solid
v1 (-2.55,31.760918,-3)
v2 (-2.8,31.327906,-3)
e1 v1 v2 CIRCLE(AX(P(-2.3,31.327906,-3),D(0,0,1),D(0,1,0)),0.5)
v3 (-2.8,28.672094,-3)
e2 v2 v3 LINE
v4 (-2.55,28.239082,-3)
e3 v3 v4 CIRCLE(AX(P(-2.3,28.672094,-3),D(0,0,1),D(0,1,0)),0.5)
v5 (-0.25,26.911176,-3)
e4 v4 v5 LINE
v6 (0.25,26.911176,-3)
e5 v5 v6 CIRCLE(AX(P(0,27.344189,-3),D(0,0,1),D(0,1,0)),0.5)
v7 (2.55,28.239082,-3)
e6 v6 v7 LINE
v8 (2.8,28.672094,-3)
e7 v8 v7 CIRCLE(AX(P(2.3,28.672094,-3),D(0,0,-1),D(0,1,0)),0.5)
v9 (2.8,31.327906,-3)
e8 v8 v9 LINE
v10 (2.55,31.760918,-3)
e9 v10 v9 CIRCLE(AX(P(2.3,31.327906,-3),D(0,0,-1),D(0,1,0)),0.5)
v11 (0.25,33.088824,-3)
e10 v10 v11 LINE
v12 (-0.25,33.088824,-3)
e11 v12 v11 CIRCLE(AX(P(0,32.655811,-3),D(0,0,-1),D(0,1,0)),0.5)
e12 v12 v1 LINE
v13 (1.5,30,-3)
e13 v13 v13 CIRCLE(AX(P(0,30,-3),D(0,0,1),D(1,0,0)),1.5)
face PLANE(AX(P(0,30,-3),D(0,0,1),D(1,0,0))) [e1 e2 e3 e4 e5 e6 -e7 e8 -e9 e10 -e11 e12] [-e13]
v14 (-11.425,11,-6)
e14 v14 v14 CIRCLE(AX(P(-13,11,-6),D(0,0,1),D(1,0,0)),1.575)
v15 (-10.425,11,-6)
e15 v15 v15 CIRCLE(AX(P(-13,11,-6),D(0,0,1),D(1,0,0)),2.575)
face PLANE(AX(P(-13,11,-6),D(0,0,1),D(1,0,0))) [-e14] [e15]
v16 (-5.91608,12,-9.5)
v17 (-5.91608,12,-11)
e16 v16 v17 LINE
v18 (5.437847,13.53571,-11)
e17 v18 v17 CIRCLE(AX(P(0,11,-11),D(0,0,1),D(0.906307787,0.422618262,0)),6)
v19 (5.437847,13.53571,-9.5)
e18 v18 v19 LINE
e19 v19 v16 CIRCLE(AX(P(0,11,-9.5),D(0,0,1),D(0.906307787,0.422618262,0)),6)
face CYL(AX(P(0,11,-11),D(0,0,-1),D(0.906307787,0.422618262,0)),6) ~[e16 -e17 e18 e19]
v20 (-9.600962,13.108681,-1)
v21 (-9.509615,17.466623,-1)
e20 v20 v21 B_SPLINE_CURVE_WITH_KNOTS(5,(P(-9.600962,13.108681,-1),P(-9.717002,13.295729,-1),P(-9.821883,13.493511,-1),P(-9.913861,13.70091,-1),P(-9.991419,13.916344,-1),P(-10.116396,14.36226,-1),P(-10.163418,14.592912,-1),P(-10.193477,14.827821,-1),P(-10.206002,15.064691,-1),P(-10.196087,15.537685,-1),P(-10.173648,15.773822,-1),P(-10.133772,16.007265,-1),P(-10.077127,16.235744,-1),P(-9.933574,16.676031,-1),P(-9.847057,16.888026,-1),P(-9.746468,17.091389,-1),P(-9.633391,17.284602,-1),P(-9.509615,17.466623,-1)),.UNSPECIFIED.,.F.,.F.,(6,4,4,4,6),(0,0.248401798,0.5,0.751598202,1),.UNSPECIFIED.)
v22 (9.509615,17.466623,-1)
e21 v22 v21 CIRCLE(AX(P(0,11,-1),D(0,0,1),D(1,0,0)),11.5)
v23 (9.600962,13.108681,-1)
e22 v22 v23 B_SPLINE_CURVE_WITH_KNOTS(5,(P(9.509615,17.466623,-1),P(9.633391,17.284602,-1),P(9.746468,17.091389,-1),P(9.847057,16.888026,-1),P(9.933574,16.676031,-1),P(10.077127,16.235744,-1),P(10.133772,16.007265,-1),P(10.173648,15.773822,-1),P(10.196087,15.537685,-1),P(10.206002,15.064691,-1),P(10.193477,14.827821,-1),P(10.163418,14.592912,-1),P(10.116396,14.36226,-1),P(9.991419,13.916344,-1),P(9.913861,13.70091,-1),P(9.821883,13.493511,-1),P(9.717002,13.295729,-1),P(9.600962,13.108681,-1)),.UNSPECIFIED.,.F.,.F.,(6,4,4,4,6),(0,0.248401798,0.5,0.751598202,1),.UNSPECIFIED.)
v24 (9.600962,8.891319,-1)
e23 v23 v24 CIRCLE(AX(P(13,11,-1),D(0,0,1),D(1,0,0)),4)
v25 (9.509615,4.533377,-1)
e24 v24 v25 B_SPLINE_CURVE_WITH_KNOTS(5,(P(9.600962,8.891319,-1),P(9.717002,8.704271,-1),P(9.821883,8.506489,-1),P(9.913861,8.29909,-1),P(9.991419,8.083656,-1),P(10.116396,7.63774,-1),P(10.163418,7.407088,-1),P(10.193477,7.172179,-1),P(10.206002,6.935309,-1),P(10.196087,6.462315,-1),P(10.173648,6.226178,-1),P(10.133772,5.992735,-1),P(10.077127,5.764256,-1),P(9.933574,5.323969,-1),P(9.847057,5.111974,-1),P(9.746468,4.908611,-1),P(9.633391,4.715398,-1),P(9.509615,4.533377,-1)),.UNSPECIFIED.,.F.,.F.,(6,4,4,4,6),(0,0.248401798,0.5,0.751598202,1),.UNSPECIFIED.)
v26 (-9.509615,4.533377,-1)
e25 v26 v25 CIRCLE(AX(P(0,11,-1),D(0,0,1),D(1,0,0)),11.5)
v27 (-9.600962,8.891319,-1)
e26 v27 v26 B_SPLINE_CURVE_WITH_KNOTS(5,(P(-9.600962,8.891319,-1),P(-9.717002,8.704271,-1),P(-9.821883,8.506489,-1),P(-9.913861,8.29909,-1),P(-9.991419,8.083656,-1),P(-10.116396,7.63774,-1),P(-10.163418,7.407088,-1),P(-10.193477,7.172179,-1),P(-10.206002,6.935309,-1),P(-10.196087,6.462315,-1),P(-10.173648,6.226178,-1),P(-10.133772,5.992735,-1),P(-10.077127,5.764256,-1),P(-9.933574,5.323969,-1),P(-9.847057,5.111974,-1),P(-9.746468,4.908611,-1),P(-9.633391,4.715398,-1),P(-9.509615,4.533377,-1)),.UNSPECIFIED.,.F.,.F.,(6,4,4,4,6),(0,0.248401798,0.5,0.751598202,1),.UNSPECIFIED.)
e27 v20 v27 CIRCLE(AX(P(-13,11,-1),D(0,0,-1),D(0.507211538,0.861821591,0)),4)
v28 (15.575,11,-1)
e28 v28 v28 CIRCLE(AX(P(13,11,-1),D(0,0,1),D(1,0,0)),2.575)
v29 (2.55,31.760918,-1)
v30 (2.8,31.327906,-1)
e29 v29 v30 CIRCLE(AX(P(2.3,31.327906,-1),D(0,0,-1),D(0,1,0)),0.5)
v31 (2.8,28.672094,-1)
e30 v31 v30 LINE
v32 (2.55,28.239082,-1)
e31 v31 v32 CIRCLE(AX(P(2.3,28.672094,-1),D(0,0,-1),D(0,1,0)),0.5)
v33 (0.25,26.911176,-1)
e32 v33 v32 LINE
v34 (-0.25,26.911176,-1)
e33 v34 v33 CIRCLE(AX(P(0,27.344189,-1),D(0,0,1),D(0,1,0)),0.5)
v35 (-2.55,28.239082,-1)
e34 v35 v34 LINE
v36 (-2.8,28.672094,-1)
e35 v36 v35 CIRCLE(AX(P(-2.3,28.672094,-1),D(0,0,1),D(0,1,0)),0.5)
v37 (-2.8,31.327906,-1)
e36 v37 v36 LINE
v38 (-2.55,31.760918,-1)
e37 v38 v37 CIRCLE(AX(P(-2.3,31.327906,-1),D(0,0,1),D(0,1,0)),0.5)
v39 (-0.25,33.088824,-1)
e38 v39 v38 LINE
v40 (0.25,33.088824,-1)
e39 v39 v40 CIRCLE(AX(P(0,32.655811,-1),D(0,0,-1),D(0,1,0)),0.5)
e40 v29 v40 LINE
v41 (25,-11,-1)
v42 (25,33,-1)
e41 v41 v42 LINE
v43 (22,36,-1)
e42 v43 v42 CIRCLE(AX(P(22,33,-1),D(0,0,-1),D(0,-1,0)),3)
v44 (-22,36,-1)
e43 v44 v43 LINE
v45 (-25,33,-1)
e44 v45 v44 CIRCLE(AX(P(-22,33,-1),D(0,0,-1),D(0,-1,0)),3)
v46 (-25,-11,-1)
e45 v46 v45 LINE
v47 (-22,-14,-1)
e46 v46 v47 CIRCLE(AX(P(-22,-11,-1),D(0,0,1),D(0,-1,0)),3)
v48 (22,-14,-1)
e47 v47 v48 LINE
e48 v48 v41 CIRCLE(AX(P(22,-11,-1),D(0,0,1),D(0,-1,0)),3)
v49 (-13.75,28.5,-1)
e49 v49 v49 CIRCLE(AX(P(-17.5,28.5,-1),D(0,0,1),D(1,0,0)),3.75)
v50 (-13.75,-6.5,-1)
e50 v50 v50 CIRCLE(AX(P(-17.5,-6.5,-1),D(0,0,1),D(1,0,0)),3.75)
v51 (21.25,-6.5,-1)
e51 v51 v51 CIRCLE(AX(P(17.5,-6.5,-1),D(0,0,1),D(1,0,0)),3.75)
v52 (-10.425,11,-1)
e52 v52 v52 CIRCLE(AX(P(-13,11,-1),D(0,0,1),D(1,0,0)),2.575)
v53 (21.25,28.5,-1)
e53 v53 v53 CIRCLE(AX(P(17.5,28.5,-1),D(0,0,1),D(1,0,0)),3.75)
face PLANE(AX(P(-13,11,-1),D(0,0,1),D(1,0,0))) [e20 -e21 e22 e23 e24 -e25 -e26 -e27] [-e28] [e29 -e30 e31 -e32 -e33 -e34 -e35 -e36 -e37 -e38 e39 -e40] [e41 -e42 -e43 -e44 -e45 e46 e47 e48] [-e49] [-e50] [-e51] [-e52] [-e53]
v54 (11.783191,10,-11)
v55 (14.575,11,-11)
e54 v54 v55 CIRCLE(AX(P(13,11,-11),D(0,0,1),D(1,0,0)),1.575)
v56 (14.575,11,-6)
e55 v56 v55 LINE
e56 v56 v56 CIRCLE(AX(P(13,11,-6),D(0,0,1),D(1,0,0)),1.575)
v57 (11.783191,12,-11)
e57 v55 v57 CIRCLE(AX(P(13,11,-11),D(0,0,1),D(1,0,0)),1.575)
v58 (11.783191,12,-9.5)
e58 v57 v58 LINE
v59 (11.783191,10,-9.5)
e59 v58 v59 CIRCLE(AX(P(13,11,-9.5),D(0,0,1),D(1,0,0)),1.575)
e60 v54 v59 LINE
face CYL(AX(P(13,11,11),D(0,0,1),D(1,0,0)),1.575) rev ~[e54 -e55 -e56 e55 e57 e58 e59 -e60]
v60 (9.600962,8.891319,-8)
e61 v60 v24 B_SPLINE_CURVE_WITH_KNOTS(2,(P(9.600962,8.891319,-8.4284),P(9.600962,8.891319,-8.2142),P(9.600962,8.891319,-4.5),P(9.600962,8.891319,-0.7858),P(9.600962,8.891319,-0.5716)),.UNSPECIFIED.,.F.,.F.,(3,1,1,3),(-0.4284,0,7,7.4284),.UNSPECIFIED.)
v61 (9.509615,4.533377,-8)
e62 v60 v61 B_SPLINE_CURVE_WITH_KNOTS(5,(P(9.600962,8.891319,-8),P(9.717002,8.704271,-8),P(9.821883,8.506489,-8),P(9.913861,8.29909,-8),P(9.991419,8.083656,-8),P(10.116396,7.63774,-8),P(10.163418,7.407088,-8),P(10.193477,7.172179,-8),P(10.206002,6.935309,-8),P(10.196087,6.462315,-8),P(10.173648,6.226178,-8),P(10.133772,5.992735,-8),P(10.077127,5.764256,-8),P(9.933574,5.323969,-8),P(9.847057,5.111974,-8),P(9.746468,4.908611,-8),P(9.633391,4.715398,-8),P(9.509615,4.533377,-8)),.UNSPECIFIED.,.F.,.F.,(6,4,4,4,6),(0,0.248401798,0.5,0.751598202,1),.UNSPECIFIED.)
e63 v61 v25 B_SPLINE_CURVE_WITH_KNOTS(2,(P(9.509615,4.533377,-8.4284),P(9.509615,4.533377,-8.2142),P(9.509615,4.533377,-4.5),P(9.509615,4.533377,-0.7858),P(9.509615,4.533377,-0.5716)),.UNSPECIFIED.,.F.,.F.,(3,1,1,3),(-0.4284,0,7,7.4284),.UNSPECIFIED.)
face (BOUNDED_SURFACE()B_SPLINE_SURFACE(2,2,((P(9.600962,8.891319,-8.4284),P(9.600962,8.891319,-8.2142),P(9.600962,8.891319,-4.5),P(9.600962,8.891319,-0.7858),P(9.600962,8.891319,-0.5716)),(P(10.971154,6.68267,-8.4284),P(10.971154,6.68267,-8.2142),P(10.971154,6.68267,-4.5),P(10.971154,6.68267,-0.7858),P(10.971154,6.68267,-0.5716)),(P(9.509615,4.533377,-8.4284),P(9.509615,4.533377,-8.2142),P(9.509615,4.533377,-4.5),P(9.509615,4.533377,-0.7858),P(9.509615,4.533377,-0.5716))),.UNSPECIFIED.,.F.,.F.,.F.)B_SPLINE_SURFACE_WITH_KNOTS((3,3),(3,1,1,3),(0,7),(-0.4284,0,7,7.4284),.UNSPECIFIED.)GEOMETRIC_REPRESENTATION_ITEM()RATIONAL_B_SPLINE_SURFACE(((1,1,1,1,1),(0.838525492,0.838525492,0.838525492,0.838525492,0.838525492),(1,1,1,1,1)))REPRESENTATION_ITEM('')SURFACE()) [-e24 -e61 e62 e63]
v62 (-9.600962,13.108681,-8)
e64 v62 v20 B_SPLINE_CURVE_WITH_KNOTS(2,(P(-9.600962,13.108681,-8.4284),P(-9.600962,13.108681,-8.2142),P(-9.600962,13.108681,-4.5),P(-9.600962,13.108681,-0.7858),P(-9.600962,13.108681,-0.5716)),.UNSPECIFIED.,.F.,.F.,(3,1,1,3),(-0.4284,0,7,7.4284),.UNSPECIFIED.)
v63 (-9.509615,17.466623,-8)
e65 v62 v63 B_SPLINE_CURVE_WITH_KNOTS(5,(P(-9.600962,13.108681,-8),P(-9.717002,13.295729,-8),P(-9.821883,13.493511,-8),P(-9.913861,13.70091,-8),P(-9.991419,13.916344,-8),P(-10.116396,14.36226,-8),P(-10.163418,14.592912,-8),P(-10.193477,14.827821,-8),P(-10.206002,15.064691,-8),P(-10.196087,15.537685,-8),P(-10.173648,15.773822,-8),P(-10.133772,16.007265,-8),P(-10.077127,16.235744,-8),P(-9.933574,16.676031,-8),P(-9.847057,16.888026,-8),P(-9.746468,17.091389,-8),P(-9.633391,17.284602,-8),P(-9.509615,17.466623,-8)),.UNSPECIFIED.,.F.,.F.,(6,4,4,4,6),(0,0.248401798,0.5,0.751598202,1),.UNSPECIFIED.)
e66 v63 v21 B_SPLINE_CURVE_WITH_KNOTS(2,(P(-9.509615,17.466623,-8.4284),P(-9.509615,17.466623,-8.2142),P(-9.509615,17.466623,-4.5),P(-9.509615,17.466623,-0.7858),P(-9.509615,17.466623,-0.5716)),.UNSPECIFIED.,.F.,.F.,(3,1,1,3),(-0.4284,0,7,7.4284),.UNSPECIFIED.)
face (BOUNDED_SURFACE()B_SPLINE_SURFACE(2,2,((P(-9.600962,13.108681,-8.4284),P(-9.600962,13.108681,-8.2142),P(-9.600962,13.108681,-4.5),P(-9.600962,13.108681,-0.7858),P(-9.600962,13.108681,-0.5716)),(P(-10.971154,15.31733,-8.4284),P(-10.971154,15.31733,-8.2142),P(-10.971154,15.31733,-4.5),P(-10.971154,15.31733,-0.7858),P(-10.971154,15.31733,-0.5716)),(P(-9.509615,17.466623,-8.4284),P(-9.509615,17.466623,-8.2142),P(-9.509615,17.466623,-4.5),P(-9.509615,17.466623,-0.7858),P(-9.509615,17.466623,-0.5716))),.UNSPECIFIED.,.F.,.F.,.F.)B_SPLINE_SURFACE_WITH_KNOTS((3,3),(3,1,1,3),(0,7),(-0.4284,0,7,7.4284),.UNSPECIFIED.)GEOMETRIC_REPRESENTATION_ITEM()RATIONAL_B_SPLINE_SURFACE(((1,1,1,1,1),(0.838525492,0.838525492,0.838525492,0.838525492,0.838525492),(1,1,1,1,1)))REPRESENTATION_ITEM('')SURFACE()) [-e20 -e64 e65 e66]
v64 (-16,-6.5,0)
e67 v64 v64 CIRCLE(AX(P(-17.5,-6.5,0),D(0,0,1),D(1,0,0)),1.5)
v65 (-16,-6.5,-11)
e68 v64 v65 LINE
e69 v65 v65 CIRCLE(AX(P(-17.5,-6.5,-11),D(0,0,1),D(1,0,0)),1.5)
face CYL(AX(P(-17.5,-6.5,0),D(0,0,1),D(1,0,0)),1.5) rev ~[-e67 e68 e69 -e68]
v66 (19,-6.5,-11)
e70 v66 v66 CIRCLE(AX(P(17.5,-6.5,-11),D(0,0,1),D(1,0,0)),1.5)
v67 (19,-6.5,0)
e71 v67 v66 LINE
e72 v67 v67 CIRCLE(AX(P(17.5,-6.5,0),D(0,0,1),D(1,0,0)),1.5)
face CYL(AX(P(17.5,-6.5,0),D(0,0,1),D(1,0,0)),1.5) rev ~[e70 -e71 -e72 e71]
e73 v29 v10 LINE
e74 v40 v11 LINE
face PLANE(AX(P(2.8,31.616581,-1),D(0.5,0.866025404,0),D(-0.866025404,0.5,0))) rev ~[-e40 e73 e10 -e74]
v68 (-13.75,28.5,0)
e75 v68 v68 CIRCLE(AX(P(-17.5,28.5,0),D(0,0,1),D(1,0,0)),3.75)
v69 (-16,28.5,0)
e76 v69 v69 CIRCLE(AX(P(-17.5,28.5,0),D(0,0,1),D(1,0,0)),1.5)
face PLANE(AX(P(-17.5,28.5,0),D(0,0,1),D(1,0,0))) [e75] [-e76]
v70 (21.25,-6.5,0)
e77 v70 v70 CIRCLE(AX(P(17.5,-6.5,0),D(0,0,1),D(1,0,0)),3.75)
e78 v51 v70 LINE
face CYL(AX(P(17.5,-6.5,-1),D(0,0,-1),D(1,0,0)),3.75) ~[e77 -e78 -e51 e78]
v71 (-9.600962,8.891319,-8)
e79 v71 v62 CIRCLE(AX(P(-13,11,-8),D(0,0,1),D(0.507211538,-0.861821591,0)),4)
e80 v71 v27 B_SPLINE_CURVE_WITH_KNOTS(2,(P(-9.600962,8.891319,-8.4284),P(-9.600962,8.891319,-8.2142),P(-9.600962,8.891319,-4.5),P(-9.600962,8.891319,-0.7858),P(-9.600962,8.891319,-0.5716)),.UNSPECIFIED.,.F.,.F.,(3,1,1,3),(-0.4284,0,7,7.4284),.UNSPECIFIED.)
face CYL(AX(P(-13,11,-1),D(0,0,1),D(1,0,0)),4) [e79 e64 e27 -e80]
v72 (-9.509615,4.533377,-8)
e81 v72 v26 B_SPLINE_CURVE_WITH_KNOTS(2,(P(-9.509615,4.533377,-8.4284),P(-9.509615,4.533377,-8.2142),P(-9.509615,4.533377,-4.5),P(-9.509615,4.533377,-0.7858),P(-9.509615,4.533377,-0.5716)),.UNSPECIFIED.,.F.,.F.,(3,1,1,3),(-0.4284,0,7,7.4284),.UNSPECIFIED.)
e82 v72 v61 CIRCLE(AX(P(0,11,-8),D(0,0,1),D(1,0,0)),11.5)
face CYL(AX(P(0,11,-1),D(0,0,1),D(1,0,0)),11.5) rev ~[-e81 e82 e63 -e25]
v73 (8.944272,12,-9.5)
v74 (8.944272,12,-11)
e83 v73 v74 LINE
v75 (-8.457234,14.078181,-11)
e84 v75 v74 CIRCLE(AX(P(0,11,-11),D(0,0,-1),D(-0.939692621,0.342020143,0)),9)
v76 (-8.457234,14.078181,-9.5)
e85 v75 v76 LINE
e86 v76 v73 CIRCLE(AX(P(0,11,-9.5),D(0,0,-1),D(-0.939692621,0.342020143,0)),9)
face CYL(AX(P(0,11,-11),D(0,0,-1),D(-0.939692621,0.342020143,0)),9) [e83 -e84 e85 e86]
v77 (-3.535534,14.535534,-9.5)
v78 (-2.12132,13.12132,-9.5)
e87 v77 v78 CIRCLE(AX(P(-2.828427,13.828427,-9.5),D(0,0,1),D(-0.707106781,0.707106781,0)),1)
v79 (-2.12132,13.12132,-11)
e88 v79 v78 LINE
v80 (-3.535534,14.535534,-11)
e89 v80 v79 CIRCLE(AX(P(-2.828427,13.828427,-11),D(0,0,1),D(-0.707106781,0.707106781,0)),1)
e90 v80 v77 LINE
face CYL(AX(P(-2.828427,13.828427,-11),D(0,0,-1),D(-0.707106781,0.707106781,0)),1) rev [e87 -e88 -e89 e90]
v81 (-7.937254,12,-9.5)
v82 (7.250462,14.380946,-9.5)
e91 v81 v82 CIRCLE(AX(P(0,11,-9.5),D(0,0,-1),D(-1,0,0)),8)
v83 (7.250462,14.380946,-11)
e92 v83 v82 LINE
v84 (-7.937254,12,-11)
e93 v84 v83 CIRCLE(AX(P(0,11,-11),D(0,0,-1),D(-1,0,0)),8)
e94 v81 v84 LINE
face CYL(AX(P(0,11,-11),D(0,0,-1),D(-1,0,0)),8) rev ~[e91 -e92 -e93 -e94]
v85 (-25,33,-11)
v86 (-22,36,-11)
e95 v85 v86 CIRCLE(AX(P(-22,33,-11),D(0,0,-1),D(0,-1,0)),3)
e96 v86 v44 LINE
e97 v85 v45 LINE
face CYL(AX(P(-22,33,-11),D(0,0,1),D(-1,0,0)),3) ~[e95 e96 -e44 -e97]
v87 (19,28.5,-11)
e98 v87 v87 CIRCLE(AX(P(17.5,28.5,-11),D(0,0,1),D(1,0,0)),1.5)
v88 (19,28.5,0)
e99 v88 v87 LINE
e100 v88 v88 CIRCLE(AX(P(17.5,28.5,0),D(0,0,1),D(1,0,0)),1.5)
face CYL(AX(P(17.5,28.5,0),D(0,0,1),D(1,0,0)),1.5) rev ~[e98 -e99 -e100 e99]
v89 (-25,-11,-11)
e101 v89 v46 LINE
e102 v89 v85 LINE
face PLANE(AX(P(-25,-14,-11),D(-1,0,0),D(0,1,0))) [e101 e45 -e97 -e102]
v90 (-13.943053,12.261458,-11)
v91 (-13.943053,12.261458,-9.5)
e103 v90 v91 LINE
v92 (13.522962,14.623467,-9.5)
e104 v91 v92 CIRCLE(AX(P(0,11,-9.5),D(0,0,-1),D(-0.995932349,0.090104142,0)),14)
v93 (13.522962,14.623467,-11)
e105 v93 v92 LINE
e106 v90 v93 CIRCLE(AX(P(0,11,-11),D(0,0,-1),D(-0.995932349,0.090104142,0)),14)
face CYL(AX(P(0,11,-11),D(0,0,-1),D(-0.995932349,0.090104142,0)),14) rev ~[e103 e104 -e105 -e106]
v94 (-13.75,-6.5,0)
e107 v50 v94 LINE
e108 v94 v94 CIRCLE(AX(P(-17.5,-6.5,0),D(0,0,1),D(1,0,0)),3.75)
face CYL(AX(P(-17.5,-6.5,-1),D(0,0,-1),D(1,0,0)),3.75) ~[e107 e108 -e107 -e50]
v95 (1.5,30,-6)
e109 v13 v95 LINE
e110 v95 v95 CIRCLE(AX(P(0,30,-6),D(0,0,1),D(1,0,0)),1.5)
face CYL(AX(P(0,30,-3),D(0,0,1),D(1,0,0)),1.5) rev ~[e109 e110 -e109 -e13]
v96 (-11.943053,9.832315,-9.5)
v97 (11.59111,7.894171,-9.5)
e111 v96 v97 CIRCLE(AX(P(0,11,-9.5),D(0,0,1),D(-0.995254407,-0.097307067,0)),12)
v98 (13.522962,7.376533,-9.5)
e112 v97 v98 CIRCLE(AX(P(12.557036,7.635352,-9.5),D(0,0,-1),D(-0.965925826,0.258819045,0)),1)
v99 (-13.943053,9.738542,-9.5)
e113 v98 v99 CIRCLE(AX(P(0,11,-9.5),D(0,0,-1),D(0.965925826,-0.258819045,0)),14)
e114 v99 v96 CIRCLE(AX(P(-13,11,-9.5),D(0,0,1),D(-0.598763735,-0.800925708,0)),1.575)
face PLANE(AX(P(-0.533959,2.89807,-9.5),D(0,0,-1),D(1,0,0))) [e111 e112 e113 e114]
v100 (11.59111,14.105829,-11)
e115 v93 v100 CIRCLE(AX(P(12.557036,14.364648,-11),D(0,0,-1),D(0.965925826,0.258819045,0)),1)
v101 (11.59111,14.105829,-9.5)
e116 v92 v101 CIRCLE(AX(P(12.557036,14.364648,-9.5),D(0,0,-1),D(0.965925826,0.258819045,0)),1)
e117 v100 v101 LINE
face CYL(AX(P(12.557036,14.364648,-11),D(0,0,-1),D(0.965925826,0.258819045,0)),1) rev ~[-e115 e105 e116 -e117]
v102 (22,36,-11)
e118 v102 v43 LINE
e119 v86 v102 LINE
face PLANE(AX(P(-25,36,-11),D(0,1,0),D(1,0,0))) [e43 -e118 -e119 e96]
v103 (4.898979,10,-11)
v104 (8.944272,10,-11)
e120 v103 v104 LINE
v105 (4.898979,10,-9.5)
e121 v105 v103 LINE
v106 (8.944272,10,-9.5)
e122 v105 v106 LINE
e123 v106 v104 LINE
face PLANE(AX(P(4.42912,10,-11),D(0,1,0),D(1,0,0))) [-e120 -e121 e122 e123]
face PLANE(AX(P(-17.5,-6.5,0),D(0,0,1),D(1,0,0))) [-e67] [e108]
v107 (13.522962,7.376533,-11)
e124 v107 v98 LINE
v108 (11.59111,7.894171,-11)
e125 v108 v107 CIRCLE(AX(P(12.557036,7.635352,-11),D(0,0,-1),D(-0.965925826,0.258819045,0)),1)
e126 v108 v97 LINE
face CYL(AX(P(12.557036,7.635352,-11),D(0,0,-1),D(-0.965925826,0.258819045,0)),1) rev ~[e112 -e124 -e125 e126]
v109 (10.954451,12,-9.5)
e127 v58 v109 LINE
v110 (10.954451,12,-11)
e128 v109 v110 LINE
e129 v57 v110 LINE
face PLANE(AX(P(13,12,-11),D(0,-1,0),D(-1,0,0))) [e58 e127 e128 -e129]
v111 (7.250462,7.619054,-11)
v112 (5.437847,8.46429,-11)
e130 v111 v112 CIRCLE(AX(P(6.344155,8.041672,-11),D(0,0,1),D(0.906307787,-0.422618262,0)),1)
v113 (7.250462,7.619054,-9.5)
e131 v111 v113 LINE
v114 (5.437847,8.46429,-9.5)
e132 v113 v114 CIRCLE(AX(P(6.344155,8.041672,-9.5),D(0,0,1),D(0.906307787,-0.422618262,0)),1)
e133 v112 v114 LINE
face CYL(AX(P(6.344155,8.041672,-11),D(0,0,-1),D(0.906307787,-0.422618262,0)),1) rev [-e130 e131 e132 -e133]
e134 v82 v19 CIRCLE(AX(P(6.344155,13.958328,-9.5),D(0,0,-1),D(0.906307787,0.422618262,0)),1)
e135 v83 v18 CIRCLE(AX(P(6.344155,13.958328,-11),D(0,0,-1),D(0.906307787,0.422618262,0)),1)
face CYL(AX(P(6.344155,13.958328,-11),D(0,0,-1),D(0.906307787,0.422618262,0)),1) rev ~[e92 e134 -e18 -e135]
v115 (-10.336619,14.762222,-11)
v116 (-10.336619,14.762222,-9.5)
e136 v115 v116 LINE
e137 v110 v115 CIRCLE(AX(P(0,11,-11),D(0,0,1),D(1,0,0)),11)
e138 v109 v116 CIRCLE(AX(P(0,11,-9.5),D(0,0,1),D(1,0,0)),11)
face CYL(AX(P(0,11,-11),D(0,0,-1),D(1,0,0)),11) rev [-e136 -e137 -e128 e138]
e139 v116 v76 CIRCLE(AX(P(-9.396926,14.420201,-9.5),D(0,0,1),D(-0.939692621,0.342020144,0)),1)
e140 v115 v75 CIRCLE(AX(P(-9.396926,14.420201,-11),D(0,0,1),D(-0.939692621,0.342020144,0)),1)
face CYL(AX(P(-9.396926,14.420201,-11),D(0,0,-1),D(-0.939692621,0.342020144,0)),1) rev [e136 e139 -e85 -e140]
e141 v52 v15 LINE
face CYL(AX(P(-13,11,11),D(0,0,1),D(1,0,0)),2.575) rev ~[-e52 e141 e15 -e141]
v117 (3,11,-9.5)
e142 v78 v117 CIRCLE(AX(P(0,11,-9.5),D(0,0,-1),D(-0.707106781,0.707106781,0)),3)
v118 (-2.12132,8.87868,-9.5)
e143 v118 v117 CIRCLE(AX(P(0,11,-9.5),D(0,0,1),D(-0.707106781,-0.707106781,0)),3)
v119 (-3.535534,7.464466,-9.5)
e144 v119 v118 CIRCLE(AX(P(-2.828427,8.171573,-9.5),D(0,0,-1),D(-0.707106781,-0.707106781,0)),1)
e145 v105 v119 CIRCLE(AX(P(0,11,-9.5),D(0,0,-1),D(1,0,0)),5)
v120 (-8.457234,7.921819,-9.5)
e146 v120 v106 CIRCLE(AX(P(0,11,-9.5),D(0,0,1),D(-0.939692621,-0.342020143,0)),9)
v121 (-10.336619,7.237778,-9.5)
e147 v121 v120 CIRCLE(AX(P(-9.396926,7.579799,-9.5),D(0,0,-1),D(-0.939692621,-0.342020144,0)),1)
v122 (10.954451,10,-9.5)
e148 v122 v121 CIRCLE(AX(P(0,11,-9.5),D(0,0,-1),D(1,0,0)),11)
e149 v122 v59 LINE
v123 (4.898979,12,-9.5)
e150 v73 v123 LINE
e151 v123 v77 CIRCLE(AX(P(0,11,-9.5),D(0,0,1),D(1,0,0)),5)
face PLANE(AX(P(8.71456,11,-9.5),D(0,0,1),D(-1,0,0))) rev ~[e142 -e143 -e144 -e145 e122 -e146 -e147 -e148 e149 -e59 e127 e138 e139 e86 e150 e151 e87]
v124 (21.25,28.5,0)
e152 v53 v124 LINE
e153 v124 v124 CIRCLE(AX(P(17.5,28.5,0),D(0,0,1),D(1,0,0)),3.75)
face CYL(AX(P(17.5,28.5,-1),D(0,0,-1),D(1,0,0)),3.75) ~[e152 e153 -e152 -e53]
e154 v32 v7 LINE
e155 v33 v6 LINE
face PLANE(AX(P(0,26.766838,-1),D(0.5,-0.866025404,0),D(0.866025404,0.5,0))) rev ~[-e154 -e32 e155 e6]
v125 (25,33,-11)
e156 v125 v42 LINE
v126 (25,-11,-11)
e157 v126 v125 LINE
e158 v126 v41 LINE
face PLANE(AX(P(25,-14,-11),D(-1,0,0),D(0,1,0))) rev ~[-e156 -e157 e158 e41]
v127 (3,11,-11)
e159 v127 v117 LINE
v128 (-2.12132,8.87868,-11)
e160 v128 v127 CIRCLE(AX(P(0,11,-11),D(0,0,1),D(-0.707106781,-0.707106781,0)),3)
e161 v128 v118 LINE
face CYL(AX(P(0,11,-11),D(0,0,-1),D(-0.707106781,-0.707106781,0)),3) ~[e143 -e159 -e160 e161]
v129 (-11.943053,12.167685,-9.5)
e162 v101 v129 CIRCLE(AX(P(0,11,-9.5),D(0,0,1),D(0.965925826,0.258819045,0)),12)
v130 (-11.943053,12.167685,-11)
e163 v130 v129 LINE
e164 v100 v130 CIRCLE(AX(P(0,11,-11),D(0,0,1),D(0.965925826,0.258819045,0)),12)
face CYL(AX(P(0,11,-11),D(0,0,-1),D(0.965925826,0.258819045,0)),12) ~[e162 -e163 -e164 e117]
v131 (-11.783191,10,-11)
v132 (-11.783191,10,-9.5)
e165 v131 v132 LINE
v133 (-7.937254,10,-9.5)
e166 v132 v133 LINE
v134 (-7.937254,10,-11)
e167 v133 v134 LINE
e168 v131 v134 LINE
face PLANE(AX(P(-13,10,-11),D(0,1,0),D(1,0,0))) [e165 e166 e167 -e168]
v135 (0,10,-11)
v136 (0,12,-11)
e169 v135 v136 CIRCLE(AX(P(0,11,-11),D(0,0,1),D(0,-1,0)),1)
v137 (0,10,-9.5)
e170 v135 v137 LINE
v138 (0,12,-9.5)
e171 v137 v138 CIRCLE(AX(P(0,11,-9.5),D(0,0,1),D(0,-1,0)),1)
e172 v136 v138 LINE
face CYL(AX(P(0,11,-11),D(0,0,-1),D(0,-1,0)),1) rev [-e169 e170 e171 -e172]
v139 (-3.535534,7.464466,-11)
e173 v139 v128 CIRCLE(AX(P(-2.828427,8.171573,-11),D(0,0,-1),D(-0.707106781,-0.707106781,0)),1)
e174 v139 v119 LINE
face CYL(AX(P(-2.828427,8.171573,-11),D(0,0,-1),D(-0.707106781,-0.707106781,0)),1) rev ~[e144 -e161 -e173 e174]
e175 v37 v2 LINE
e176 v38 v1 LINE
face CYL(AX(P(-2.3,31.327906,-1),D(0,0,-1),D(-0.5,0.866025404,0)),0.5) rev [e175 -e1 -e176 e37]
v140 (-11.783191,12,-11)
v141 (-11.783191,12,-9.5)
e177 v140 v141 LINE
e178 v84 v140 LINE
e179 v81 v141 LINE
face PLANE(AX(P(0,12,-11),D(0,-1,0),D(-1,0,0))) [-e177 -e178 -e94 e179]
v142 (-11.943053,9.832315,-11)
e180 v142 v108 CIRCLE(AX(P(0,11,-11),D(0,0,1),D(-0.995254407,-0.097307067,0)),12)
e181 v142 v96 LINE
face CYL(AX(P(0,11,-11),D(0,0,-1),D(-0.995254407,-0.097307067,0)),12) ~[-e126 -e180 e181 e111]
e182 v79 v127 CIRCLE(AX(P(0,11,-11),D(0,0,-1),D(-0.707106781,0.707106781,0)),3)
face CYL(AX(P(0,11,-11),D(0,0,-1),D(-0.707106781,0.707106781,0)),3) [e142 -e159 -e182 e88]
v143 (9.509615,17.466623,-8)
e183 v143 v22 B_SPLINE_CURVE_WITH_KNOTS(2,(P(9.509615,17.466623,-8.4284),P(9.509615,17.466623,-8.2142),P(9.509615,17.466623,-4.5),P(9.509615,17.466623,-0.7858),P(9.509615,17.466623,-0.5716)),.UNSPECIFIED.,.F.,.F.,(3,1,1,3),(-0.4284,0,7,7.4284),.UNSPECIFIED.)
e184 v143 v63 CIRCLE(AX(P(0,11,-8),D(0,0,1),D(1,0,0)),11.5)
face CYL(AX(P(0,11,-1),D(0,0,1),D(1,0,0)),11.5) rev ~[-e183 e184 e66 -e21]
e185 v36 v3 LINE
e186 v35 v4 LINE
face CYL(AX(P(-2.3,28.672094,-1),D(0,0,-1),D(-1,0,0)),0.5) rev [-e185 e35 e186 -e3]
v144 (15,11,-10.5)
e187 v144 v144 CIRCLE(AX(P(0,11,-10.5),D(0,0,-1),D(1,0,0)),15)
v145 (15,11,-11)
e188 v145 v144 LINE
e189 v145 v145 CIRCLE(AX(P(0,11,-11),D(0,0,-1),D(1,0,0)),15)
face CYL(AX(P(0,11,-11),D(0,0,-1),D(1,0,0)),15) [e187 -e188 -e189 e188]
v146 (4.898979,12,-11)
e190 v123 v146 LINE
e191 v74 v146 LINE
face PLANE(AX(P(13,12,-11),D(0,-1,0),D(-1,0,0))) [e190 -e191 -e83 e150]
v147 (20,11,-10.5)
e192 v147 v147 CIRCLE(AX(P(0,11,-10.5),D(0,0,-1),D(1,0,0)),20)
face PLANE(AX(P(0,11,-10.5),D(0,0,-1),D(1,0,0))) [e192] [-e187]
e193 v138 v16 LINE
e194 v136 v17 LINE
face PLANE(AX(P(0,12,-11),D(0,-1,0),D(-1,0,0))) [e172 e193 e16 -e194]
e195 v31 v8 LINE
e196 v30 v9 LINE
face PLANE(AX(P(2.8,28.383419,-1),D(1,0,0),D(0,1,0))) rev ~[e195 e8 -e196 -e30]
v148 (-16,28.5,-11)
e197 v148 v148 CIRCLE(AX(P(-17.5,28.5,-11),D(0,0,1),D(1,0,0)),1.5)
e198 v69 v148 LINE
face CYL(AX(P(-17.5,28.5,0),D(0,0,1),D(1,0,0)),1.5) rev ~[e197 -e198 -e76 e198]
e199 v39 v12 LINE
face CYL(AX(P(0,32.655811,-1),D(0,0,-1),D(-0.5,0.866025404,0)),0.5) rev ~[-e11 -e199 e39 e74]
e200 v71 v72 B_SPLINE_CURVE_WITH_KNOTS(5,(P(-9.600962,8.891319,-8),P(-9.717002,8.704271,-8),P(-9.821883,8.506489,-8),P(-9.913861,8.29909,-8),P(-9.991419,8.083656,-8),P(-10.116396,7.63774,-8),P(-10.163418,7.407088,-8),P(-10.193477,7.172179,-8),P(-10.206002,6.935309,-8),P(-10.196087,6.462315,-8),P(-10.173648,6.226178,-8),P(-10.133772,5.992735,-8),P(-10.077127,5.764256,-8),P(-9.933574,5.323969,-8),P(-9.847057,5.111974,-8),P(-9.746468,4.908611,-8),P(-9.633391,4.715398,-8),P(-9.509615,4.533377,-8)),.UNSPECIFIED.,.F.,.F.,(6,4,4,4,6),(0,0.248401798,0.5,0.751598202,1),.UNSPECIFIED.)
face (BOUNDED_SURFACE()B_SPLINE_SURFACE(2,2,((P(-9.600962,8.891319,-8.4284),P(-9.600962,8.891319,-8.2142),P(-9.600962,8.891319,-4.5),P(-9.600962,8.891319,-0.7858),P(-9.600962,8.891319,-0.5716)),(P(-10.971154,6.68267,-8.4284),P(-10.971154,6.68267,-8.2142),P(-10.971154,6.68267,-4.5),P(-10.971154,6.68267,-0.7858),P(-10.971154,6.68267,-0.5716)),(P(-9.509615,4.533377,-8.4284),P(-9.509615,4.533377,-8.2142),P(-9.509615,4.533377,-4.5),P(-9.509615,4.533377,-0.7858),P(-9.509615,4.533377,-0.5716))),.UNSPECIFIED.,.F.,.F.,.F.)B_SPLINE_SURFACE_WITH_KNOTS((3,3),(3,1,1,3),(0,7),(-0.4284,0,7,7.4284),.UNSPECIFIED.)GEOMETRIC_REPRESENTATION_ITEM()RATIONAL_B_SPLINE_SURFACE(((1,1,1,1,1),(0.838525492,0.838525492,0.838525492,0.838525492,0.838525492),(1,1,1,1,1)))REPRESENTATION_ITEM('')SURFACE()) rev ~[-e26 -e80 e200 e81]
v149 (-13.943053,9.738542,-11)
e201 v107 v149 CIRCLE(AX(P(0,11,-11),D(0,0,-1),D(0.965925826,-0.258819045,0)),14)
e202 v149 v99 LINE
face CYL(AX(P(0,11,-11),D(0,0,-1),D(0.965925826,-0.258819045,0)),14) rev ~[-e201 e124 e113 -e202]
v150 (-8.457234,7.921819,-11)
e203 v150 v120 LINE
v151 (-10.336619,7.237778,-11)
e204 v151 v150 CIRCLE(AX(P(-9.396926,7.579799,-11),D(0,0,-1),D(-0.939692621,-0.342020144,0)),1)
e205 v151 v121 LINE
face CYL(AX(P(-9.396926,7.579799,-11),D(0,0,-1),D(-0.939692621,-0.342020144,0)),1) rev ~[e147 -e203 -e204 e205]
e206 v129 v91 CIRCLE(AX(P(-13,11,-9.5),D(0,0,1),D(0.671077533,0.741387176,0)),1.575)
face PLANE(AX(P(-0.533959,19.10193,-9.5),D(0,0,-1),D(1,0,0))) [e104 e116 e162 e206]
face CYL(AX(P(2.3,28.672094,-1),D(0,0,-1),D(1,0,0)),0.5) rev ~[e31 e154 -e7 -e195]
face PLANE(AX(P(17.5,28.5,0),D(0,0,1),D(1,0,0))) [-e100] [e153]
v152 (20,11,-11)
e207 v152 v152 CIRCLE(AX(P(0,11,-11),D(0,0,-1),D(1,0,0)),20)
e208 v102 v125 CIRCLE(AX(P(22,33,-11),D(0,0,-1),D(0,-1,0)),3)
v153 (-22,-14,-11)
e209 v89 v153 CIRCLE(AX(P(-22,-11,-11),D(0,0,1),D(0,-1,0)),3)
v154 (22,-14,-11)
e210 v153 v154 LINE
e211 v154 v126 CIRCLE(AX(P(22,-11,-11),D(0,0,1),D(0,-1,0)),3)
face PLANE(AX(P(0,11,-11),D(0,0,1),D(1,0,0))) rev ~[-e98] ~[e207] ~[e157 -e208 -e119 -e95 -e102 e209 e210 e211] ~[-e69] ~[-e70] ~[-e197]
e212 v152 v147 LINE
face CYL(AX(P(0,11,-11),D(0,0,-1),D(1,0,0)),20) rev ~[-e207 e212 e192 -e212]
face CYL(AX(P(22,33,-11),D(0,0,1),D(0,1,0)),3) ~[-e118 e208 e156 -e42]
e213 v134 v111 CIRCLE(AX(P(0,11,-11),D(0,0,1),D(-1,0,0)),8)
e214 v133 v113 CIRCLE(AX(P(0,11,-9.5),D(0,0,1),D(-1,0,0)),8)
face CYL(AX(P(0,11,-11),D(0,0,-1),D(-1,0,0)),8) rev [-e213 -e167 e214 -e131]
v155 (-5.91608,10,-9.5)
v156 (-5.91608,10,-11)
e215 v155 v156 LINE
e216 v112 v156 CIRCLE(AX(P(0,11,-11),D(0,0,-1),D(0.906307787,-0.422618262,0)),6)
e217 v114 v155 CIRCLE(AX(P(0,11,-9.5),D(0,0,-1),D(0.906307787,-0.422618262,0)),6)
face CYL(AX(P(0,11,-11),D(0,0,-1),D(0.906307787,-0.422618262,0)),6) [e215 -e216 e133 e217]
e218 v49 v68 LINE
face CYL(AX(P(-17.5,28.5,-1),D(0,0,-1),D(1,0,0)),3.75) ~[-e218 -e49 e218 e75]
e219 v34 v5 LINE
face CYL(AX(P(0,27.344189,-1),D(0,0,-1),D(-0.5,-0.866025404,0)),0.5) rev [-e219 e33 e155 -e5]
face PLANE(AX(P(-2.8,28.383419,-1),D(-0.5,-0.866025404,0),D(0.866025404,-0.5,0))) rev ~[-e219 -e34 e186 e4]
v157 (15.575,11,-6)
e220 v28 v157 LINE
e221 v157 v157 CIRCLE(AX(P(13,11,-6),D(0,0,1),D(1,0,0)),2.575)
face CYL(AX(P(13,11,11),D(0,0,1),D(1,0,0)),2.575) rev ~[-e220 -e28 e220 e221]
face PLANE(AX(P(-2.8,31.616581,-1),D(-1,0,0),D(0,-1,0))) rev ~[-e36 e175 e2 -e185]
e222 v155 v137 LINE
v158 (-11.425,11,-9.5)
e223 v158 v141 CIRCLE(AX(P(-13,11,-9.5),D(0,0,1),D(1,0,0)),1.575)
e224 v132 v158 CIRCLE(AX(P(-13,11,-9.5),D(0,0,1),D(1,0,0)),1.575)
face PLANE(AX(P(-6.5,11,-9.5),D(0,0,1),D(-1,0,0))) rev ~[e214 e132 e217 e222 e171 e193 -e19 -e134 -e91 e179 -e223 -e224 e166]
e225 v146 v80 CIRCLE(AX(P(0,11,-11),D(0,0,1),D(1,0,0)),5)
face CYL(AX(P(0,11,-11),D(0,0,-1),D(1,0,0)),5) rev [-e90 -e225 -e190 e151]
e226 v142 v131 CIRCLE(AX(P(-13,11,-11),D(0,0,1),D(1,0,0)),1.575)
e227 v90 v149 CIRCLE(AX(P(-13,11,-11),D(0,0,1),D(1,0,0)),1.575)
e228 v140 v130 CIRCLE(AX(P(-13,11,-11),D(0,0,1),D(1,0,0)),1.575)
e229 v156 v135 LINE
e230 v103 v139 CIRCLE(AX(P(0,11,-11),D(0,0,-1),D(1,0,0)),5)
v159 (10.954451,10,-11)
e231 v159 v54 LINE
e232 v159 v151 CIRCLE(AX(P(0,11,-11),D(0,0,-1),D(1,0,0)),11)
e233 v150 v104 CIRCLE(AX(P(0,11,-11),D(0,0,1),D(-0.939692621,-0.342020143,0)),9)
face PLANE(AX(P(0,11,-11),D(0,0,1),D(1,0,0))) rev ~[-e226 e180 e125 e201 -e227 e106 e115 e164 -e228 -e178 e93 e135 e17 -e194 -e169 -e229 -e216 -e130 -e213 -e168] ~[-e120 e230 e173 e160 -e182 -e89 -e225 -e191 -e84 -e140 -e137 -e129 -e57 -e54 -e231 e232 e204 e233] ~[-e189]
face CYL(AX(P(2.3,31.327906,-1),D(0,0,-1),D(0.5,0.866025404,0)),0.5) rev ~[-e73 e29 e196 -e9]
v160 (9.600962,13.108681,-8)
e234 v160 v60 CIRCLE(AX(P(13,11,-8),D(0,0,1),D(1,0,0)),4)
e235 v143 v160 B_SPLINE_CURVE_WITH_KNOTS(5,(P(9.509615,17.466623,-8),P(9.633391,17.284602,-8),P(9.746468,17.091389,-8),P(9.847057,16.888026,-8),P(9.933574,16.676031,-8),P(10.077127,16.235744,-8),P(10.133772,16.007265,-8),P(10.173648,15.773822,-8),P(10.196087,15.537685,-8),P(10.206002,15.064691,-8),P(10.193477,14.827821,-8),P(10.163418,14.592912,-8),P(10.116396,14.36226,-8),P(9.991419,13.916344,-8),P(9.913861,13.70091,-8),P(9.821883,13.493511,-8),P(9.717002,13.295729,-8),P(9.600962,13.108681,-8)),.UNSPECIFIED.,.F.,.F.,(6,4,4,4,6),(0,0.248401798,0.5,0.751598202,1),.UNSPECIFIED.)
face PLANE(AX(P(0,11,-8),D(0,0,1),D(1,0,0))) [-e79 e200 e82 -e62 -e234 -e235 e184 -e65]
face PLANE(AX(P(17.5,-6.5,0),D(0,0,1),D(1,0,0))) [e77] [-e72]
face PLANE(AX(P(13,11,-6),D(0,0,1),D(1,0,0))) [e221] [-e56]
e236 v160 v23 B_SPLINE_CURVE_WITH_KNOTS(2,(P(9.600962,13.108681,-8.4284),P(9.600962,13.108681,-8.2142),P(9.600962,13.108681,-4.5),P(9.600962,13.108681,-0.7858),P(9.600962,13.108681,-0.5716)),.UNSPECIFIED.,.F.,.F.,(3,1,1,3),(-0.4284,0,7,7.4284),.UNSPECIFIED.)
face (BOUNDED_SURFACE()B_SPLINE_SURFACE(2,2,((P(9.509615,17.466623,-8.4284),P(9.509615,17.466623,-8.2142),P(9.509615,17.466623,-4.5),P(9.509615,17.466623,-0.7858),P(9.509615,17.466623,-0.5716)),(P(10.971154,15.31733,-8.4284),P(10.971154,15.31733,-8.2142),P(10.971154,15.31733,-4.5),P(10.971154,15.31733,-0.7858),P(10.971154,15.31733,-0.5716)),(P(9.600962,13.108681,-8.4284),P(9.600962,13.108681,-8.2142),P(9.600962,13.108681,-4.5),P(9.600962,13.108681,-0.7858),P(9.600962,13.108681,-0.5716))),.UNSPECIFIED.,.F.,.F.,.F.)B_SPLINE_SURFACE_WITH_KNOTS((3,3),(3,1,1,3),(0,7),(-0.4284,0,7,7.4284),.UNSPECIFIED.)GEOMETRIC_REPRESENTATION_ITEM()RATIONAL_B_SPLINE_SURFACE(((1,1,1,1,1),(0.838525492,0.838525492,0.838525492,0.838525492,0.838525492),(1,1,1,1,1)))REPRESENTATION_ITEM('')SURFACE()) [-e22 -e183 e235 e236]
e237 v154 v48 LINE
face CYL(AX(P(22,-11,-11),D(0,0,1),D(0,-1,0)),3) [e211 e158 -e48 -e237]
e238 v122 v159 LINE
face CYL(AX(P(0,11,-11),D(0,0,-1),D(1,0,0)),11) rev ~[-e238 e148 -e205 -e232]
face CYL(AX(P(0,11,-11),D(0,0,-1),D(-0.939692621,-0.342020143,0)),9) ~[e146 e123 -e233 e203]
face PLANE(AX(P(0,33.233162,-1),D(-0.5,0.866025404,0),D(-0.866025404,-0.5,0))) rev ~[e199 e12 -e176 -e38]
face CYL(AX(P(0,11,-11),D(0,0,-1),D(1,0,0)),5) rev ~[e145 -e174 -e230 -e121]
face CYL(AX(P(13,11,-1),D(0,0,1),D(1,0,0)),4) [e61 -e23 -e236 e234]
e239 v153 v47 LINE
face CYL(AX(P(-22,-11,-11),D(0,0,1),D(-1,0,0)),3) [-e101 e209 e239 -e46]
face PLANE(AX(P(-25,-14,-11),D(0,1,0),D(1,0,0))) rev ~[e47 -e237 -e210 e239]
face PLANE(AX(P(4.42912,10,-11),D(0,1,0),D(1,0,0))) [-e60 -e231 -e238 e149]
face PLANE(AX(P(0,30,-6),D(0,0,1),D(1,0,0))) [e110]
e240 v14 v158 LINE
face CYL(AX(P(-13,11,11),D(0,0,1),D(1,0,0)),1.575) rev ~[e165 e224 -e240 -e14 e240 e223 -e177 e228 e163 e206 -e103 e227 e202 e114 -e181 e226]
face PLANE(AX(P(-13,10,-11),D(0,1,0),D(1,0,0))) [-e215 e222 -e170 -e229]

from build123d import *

# Parameters (mm, degrees)
SKETCH1_W               = 50
SKETCH1_H               = 50
BODY_DEPTH              = 10
SKETCH2_R               = 11.5
CUT_VIEW_DEPTH          = 7
FILLETBODY_R            = 3
SKETCH3_R               = 3.75
BOLT_EXTRUDE_DEPTH      = 1
SKETCH4_R               = 1.5
BOLT_DEPTH              = 10
BOLT_DEPTH_BACK         = 16
HEX_2_DEPTH             = 2
SKETCH19_R              = 1.5
HEX_BOLT_DEPTH          = 3
SKETCH6_R               = 4
FIELD1_DEPTH            = 7
FIELD2_R                = 4
SKETCH7_R               = 2.575
PORTS1_DEPTH            = 12
SKETCH10_R              = 1.575
PORTS2_DEPTH            = 12
PORTS2_DEPTH_BACK       = 32
SKETCH11_R              = 20
SKETCH11_R_2            = 15
SEAL1_DEPTH             = 0.5
FLOWFIELD_DEPTH         = 1.5
FLOWFIELD_CHANNEL_DEPTH = 1.5
BODY_MOVE_COPY1_ANGLE   = 90
SKETCH20_R              = 2.575
CUT_EXTRUDE1_DEPTH      = 17
FILLET1_R               = 0.5


with BuildPart() as part:
    # Sketch1 → Body (new body)
    with BuildSketch(Plane(origin=(0, 0, 0), x_dir=(1, 0, 0), z_dir=(0, 1, 0))):
        Rectangle(SKETCH1_W, SKETCH1_H)
    extrude(amount=BODY_DEPTH)

    # Sketch2 → Cut view (cut)
    with BuildSketch(Plane(origin=(0, 10, 0), x_dir=(1, 0, 0), z_dir=(0, 1, 0))):
        Circle(SKETCH2_R)
    extrude(amount=-CUT_VIEW_DEPTH, mode=Mode.SUBTRACT)

    # FilletBody
    filletbody_edges = [part.edges().sort_by_distance(p)[0] for p in [
        (-25, 5, -25),
        (25, 5, -25),
        (25, 5, 25),
        (-25, 5, 25),
    ]]
    fillet(filletbody_edges, radius=FILLETBODY_R)

    # Sketch3 → Bolt extrude (add)
    with BuildSketch(Plane(origin=(0, 10, 0), x_dir=(1, 0, 0), z_dir=(0, 1, 0))):
        with Locations((-17.5, 17.5)):
            Circle(SKETCH3_R)
        with Locations((17.5, 17.5)):
            Circle(SKETCH3_R)
        with Locations((17.5, -17.5)):
            Circle(SKETCH3_R)
        with Locations((-17.5, -17.5)):
            Circle(SKETCH3_R)
    extrude(amount=BOLT_EXTRUDE_DEPTH)

    # Sketch4 → Bolt (cut, two sides)
    with BuildSketch(Plane(origin=(0, 11, 0), x_dir=(1, 0, 0), z_dir=(0, 1, 0))) as bolt_sk:
        with Locations((-17.5, 17.5)):
            Circle(SKETCH4_R)
        with Locations((17.5, 17.5)):
            Circle(SKETCH4_R)
        with Locations((17.5, -17.5)):
            Circle(SKETCH4_R)
        with Locations((-17.5, -17.5)):
            Circle(SKETCH4_R)
    extrude(amount=BOLT_DEPTH, mode=Mode.SUBTRACT)
    extrude(bolt_sk.sketch, amount=-BOLT_DEPTH_BACK, mode=Mode.SUBTRACT)

    # Sketch5 → Hex 2 (cut)
    with BuildSketch(Plane(origin=(0, 10, 0), x_dir=(1, 0, 0), z_dir=(0, 1, 0))):
        Polygon((0, 22.233161507), (-2.8, 20.616580754), (-2.8, 17.383419246), (0, 15.766838493), (2.8, 17.383419246), (2.8, 20.616580754), align=None)
    extrude(amount=-HEX_2_DEPTH, mode=Mode.SUBTRACT)

    # Sketch19 → Hex_bolt (cut)
    with BuildSketch(Plane(origin=(0, 8, 0), x_dir=(1, 0, 0), z_dir=(0, 1, 0))):
        with Locations((0, 19)):
            Circle(SKETCH19_R)
    extrude(amount=-HEX_BOLT_DEPTH, mode=Mode.SUBTRACT)

    # Sketch6 → Field1 (add)
    with BuildSketch(Plane(origin=(0, 10, 0), x_dir=(1, 0, 0), z_dir=(0, 1, 0))):
        with Locations((-13, 0)):
            Circle(SKETCH6_R)
        with Locations((13, 0)):
            Circle(SKETCH6_R)
    extrude(amount=-FIELD1_DEPTH)

    # Field2
    field2_edges = [part.edges().sort_by_distance(p)[0] for p in [
        (-10.971153846, 6.5, 3.447286365),
        (-10.971153846, 6.5, -3.447286365),
        (10.971153846, 6.5, -3.447286365),
        (10.971153846, 6.5, 3.447286365),
    ]]
    fillet(field2_edges, radius=FIELD2_R)

    # Sketch7 → Ports1 (add)
    with BuildSketch(Plane(origin=(0, 10, 0), x_dir=(1, 0, 0), z_dir=(0, 1, 0))):
        with Locations((-13, 0)):
            Circle(SKETCH7_R)
        with Locations((13, 0)):
            Circle(SKETCH7_R)
    extrude(amount=PORTS1_DEPTH)

    # Sketch10 → Ports2 (cut, two sides)
    with BuildSketch(Plane(origin=(0, 22, 0), x_dir=(1, 0, 0), z_dir=(0, 1, 0))) as ports2_sk:
        with Locations((-13, 0)):
            Circle(SKETCH10_R)
        with Locations((13, 0)):
            Circle(SKETCH10_R)
    extrude(amount=PORTS2_DEPTH, mode=Mode.SUBTRACT)
    extrude(ports2_sk.sketch, amount=-PORTS2_DEPTH_BACK, mode=Mode.SUBTRACT)

    # Sketch11 → Seal1 (cut)
    with BuildSketch(Plane.XZ):
        Circle(SKETCH11_R)
        Circle(SKETCH11_R_2, mode=Mode.SUBTRACT)
    extrude(amount=-SEAL1_DEPTH, mode=Mode.SUBTRACT)

    # Sketch15 → FlowField (cut)
    with BuildSketch(Plane.XZ):
        with BuildLine():
            ThreePointArc((13.522961568, 3.623466631), (-1.199537572, 13.948516395), (-13.943052885, 1.261457989))
            ThreePointArc((-13.943052885, 1.261457989), (-12.926234652, 1.573271646), (-11.943052885, 1.167684801))
            ThreePointArc((-11.943052885, 1.167684801), (-0.984919414, 11.95951227), (11.591109915, 3.105828541))
            ThreePointArc((11.591109915, 3.105828541), (12.815854787, 2.39872176), (13.522961568, 3.623466631))
        make_face()
        with BuildLine():
            ThreePointArc((11, 0), (1.910129954, 10.832885283), (-10.336618829, 3.762221577))
            ThreePointArc((-10.336618829, 3.762221577), (-9.738946351, 2.480508812), (-8.457233587, 3.07818129))
            ThreePointArc((-8.457233587, 3.07818129), (1.562833599, 8.863269777), (9, 0))
            Line((9, 0), (11, 0))
        make_face()
        with BuildLine():
            ThreePointArc((7.250462296, 3.380946094), (6.766772771, 2.052020045), (5.437846722, 2.53570957))
            ThreePointArc((5.437846722, 2.53570957), (-1.298637684, 5.857776043), (-6, 0))
            Line((-6, 0), (-8, 0))
            ThreePointArc((-8, 0), (-1.731516912, 7.810368057), (7.250462296, 3.380946094))
        make_face()
        with BuildLine():
            ThreePointArc((5, 0), (1.913417162, 4.619397663), (-3.535533906, 3.535533906))
            ThreePointArc((-3.535533906, 3.535533906), (-3.535533906, 2.121320344), (-2.121320344, 2.121320344))
            ThreePointArc((-2.121320344, 2.121320344), (1.148050297, 2.771638598), (3, 0))
            Line((3, 0), (5, 0))
        make_face()
        with BuildLine():
            ThreePointArc((5, 0), (1.913417162, -4.619397663), (-3.535533906, -3.535533906))
            ThreePointArc((-3.535533906, -3.535533906), (-3.535533906, -2.121320344), (-2.121320344, -2.121320344))
            ThreePointArc((-2.121320344, -2.121320344), (1.148050297, -2.771638598), (3, 0))
            Line((3, 0), (5, 0))
        make_face()
        with BuildLine():
            ThreePointArc((-8, 0), (-1.731516912, -7.810368057), (7.250462296, -3.380946094))
            ThreePointArc((7.250462296, -3.380946094), (6.766772771, -2.052020045), (5.437846722, -2.53570957))
            ThreePointArc((5.437846722, -2.53570957), (-1.298637684, -5.857776043), (-6, 0))
            Line((-6, 0), (-8, 0))
        make_face()
        with BuildLine():
            ThreePointArc((11, 0), (1.910129954, -10.832885283), (-10.336618829, -3.762221577))
            ThreePointArc((-10.336618829, -3.762221577), (-9.738946351, -2.480508812), (-8.457233587, -3.07818129))
            ThreePointArc((-8.457233587, -3.07818129), (1.562833599, -8.863269777), (9, 0))
            Line((9, 0), (11, 0))
        make_face()
        with BuildLine():
            ThreePointArc((-11.943052885, -1.167684801), (-12.926234652, -1.573271646), (-13.943052885, -1.261457989))
            ThreePointArc((-13.943052885, -1.261457989), (-1.199537572, -13.948516395), (13.522961568, -3.623466631))
            ThreePointArc((13.522961568, -3.623466631), (12.815854787, -2.39872176), (11.591109915, -3.105828541))
            ThreePointArc((11.591109915, -3.105828541), (-0.984919414, -11.95951227), (-11.943052885, -1.167684801))
        make_face()
    extrude(amount=-FLOWFIELD_DEPTH, mode=Mode.SUBTRACT)

    # Sketch16 → FlowField_Channel (cut)
    with BuildSketch(Plane.XZ):
        with BuildLine():
            Line((-13, 1), (0, 1))
            ThreePointArc((0, 1), (1, 0), (0, -1))
            Line((0, -1), (-13, -1))
            ThreePointArc((-13, -1), (-14, 0), (-13, 1))
        make_face()
        with BuildLine():
            Line((13, -1), (4.429119544, -1))
            ThreePointArc((4.429119544, -1), (3.429119544, 0), (4.429119544, 1))
            Line((4.429119544, 1), (13, 1))
            ThreePointArc((13, 1), (14, 0), (13, -1))
        make_face()
    extrude(amount=-FLOWFIELD_CHANNEL_DEPTH, mode=Mode.SUBTRACT)


with BuildPart() as part_1:
    # Body-Move/Copy1: moved
    add(part.part.rotate(Axis((0, 11, 0), (1, 0, 0)), BODY_MOVE_COPY1_ANGLE))

    # Sketch20 → Cut-Extrude1 (cut)
    with BuildSketch(Plane.XY.offset(11)):
        with Locations((13, 11)):
            Circle(SKETCH20_R)
        with Locations((-13, 11)):
            Circle(SKETCH20_R)
    extrude(amount=-CUT_EXTRUDE1_DEPTH, mode=Mode.SUBTRACT)

    # Fillet1
    fillet1_edges = [part_1.edges().sort_by_distance(p)[0] for p in [
        (0, 33.233161507, -2),
        (2.8, 31.616580754, -2),
        (2.8, 28.383419246, -2),
        (0, 26.766838493, -2),
        (-2.8, 28.383419246, -2),
        (-2.8, 31.616580754, -2),
    ]]
    fillet(fillet1_edges, radius=FILLET1_R)


solid = part_1.part
